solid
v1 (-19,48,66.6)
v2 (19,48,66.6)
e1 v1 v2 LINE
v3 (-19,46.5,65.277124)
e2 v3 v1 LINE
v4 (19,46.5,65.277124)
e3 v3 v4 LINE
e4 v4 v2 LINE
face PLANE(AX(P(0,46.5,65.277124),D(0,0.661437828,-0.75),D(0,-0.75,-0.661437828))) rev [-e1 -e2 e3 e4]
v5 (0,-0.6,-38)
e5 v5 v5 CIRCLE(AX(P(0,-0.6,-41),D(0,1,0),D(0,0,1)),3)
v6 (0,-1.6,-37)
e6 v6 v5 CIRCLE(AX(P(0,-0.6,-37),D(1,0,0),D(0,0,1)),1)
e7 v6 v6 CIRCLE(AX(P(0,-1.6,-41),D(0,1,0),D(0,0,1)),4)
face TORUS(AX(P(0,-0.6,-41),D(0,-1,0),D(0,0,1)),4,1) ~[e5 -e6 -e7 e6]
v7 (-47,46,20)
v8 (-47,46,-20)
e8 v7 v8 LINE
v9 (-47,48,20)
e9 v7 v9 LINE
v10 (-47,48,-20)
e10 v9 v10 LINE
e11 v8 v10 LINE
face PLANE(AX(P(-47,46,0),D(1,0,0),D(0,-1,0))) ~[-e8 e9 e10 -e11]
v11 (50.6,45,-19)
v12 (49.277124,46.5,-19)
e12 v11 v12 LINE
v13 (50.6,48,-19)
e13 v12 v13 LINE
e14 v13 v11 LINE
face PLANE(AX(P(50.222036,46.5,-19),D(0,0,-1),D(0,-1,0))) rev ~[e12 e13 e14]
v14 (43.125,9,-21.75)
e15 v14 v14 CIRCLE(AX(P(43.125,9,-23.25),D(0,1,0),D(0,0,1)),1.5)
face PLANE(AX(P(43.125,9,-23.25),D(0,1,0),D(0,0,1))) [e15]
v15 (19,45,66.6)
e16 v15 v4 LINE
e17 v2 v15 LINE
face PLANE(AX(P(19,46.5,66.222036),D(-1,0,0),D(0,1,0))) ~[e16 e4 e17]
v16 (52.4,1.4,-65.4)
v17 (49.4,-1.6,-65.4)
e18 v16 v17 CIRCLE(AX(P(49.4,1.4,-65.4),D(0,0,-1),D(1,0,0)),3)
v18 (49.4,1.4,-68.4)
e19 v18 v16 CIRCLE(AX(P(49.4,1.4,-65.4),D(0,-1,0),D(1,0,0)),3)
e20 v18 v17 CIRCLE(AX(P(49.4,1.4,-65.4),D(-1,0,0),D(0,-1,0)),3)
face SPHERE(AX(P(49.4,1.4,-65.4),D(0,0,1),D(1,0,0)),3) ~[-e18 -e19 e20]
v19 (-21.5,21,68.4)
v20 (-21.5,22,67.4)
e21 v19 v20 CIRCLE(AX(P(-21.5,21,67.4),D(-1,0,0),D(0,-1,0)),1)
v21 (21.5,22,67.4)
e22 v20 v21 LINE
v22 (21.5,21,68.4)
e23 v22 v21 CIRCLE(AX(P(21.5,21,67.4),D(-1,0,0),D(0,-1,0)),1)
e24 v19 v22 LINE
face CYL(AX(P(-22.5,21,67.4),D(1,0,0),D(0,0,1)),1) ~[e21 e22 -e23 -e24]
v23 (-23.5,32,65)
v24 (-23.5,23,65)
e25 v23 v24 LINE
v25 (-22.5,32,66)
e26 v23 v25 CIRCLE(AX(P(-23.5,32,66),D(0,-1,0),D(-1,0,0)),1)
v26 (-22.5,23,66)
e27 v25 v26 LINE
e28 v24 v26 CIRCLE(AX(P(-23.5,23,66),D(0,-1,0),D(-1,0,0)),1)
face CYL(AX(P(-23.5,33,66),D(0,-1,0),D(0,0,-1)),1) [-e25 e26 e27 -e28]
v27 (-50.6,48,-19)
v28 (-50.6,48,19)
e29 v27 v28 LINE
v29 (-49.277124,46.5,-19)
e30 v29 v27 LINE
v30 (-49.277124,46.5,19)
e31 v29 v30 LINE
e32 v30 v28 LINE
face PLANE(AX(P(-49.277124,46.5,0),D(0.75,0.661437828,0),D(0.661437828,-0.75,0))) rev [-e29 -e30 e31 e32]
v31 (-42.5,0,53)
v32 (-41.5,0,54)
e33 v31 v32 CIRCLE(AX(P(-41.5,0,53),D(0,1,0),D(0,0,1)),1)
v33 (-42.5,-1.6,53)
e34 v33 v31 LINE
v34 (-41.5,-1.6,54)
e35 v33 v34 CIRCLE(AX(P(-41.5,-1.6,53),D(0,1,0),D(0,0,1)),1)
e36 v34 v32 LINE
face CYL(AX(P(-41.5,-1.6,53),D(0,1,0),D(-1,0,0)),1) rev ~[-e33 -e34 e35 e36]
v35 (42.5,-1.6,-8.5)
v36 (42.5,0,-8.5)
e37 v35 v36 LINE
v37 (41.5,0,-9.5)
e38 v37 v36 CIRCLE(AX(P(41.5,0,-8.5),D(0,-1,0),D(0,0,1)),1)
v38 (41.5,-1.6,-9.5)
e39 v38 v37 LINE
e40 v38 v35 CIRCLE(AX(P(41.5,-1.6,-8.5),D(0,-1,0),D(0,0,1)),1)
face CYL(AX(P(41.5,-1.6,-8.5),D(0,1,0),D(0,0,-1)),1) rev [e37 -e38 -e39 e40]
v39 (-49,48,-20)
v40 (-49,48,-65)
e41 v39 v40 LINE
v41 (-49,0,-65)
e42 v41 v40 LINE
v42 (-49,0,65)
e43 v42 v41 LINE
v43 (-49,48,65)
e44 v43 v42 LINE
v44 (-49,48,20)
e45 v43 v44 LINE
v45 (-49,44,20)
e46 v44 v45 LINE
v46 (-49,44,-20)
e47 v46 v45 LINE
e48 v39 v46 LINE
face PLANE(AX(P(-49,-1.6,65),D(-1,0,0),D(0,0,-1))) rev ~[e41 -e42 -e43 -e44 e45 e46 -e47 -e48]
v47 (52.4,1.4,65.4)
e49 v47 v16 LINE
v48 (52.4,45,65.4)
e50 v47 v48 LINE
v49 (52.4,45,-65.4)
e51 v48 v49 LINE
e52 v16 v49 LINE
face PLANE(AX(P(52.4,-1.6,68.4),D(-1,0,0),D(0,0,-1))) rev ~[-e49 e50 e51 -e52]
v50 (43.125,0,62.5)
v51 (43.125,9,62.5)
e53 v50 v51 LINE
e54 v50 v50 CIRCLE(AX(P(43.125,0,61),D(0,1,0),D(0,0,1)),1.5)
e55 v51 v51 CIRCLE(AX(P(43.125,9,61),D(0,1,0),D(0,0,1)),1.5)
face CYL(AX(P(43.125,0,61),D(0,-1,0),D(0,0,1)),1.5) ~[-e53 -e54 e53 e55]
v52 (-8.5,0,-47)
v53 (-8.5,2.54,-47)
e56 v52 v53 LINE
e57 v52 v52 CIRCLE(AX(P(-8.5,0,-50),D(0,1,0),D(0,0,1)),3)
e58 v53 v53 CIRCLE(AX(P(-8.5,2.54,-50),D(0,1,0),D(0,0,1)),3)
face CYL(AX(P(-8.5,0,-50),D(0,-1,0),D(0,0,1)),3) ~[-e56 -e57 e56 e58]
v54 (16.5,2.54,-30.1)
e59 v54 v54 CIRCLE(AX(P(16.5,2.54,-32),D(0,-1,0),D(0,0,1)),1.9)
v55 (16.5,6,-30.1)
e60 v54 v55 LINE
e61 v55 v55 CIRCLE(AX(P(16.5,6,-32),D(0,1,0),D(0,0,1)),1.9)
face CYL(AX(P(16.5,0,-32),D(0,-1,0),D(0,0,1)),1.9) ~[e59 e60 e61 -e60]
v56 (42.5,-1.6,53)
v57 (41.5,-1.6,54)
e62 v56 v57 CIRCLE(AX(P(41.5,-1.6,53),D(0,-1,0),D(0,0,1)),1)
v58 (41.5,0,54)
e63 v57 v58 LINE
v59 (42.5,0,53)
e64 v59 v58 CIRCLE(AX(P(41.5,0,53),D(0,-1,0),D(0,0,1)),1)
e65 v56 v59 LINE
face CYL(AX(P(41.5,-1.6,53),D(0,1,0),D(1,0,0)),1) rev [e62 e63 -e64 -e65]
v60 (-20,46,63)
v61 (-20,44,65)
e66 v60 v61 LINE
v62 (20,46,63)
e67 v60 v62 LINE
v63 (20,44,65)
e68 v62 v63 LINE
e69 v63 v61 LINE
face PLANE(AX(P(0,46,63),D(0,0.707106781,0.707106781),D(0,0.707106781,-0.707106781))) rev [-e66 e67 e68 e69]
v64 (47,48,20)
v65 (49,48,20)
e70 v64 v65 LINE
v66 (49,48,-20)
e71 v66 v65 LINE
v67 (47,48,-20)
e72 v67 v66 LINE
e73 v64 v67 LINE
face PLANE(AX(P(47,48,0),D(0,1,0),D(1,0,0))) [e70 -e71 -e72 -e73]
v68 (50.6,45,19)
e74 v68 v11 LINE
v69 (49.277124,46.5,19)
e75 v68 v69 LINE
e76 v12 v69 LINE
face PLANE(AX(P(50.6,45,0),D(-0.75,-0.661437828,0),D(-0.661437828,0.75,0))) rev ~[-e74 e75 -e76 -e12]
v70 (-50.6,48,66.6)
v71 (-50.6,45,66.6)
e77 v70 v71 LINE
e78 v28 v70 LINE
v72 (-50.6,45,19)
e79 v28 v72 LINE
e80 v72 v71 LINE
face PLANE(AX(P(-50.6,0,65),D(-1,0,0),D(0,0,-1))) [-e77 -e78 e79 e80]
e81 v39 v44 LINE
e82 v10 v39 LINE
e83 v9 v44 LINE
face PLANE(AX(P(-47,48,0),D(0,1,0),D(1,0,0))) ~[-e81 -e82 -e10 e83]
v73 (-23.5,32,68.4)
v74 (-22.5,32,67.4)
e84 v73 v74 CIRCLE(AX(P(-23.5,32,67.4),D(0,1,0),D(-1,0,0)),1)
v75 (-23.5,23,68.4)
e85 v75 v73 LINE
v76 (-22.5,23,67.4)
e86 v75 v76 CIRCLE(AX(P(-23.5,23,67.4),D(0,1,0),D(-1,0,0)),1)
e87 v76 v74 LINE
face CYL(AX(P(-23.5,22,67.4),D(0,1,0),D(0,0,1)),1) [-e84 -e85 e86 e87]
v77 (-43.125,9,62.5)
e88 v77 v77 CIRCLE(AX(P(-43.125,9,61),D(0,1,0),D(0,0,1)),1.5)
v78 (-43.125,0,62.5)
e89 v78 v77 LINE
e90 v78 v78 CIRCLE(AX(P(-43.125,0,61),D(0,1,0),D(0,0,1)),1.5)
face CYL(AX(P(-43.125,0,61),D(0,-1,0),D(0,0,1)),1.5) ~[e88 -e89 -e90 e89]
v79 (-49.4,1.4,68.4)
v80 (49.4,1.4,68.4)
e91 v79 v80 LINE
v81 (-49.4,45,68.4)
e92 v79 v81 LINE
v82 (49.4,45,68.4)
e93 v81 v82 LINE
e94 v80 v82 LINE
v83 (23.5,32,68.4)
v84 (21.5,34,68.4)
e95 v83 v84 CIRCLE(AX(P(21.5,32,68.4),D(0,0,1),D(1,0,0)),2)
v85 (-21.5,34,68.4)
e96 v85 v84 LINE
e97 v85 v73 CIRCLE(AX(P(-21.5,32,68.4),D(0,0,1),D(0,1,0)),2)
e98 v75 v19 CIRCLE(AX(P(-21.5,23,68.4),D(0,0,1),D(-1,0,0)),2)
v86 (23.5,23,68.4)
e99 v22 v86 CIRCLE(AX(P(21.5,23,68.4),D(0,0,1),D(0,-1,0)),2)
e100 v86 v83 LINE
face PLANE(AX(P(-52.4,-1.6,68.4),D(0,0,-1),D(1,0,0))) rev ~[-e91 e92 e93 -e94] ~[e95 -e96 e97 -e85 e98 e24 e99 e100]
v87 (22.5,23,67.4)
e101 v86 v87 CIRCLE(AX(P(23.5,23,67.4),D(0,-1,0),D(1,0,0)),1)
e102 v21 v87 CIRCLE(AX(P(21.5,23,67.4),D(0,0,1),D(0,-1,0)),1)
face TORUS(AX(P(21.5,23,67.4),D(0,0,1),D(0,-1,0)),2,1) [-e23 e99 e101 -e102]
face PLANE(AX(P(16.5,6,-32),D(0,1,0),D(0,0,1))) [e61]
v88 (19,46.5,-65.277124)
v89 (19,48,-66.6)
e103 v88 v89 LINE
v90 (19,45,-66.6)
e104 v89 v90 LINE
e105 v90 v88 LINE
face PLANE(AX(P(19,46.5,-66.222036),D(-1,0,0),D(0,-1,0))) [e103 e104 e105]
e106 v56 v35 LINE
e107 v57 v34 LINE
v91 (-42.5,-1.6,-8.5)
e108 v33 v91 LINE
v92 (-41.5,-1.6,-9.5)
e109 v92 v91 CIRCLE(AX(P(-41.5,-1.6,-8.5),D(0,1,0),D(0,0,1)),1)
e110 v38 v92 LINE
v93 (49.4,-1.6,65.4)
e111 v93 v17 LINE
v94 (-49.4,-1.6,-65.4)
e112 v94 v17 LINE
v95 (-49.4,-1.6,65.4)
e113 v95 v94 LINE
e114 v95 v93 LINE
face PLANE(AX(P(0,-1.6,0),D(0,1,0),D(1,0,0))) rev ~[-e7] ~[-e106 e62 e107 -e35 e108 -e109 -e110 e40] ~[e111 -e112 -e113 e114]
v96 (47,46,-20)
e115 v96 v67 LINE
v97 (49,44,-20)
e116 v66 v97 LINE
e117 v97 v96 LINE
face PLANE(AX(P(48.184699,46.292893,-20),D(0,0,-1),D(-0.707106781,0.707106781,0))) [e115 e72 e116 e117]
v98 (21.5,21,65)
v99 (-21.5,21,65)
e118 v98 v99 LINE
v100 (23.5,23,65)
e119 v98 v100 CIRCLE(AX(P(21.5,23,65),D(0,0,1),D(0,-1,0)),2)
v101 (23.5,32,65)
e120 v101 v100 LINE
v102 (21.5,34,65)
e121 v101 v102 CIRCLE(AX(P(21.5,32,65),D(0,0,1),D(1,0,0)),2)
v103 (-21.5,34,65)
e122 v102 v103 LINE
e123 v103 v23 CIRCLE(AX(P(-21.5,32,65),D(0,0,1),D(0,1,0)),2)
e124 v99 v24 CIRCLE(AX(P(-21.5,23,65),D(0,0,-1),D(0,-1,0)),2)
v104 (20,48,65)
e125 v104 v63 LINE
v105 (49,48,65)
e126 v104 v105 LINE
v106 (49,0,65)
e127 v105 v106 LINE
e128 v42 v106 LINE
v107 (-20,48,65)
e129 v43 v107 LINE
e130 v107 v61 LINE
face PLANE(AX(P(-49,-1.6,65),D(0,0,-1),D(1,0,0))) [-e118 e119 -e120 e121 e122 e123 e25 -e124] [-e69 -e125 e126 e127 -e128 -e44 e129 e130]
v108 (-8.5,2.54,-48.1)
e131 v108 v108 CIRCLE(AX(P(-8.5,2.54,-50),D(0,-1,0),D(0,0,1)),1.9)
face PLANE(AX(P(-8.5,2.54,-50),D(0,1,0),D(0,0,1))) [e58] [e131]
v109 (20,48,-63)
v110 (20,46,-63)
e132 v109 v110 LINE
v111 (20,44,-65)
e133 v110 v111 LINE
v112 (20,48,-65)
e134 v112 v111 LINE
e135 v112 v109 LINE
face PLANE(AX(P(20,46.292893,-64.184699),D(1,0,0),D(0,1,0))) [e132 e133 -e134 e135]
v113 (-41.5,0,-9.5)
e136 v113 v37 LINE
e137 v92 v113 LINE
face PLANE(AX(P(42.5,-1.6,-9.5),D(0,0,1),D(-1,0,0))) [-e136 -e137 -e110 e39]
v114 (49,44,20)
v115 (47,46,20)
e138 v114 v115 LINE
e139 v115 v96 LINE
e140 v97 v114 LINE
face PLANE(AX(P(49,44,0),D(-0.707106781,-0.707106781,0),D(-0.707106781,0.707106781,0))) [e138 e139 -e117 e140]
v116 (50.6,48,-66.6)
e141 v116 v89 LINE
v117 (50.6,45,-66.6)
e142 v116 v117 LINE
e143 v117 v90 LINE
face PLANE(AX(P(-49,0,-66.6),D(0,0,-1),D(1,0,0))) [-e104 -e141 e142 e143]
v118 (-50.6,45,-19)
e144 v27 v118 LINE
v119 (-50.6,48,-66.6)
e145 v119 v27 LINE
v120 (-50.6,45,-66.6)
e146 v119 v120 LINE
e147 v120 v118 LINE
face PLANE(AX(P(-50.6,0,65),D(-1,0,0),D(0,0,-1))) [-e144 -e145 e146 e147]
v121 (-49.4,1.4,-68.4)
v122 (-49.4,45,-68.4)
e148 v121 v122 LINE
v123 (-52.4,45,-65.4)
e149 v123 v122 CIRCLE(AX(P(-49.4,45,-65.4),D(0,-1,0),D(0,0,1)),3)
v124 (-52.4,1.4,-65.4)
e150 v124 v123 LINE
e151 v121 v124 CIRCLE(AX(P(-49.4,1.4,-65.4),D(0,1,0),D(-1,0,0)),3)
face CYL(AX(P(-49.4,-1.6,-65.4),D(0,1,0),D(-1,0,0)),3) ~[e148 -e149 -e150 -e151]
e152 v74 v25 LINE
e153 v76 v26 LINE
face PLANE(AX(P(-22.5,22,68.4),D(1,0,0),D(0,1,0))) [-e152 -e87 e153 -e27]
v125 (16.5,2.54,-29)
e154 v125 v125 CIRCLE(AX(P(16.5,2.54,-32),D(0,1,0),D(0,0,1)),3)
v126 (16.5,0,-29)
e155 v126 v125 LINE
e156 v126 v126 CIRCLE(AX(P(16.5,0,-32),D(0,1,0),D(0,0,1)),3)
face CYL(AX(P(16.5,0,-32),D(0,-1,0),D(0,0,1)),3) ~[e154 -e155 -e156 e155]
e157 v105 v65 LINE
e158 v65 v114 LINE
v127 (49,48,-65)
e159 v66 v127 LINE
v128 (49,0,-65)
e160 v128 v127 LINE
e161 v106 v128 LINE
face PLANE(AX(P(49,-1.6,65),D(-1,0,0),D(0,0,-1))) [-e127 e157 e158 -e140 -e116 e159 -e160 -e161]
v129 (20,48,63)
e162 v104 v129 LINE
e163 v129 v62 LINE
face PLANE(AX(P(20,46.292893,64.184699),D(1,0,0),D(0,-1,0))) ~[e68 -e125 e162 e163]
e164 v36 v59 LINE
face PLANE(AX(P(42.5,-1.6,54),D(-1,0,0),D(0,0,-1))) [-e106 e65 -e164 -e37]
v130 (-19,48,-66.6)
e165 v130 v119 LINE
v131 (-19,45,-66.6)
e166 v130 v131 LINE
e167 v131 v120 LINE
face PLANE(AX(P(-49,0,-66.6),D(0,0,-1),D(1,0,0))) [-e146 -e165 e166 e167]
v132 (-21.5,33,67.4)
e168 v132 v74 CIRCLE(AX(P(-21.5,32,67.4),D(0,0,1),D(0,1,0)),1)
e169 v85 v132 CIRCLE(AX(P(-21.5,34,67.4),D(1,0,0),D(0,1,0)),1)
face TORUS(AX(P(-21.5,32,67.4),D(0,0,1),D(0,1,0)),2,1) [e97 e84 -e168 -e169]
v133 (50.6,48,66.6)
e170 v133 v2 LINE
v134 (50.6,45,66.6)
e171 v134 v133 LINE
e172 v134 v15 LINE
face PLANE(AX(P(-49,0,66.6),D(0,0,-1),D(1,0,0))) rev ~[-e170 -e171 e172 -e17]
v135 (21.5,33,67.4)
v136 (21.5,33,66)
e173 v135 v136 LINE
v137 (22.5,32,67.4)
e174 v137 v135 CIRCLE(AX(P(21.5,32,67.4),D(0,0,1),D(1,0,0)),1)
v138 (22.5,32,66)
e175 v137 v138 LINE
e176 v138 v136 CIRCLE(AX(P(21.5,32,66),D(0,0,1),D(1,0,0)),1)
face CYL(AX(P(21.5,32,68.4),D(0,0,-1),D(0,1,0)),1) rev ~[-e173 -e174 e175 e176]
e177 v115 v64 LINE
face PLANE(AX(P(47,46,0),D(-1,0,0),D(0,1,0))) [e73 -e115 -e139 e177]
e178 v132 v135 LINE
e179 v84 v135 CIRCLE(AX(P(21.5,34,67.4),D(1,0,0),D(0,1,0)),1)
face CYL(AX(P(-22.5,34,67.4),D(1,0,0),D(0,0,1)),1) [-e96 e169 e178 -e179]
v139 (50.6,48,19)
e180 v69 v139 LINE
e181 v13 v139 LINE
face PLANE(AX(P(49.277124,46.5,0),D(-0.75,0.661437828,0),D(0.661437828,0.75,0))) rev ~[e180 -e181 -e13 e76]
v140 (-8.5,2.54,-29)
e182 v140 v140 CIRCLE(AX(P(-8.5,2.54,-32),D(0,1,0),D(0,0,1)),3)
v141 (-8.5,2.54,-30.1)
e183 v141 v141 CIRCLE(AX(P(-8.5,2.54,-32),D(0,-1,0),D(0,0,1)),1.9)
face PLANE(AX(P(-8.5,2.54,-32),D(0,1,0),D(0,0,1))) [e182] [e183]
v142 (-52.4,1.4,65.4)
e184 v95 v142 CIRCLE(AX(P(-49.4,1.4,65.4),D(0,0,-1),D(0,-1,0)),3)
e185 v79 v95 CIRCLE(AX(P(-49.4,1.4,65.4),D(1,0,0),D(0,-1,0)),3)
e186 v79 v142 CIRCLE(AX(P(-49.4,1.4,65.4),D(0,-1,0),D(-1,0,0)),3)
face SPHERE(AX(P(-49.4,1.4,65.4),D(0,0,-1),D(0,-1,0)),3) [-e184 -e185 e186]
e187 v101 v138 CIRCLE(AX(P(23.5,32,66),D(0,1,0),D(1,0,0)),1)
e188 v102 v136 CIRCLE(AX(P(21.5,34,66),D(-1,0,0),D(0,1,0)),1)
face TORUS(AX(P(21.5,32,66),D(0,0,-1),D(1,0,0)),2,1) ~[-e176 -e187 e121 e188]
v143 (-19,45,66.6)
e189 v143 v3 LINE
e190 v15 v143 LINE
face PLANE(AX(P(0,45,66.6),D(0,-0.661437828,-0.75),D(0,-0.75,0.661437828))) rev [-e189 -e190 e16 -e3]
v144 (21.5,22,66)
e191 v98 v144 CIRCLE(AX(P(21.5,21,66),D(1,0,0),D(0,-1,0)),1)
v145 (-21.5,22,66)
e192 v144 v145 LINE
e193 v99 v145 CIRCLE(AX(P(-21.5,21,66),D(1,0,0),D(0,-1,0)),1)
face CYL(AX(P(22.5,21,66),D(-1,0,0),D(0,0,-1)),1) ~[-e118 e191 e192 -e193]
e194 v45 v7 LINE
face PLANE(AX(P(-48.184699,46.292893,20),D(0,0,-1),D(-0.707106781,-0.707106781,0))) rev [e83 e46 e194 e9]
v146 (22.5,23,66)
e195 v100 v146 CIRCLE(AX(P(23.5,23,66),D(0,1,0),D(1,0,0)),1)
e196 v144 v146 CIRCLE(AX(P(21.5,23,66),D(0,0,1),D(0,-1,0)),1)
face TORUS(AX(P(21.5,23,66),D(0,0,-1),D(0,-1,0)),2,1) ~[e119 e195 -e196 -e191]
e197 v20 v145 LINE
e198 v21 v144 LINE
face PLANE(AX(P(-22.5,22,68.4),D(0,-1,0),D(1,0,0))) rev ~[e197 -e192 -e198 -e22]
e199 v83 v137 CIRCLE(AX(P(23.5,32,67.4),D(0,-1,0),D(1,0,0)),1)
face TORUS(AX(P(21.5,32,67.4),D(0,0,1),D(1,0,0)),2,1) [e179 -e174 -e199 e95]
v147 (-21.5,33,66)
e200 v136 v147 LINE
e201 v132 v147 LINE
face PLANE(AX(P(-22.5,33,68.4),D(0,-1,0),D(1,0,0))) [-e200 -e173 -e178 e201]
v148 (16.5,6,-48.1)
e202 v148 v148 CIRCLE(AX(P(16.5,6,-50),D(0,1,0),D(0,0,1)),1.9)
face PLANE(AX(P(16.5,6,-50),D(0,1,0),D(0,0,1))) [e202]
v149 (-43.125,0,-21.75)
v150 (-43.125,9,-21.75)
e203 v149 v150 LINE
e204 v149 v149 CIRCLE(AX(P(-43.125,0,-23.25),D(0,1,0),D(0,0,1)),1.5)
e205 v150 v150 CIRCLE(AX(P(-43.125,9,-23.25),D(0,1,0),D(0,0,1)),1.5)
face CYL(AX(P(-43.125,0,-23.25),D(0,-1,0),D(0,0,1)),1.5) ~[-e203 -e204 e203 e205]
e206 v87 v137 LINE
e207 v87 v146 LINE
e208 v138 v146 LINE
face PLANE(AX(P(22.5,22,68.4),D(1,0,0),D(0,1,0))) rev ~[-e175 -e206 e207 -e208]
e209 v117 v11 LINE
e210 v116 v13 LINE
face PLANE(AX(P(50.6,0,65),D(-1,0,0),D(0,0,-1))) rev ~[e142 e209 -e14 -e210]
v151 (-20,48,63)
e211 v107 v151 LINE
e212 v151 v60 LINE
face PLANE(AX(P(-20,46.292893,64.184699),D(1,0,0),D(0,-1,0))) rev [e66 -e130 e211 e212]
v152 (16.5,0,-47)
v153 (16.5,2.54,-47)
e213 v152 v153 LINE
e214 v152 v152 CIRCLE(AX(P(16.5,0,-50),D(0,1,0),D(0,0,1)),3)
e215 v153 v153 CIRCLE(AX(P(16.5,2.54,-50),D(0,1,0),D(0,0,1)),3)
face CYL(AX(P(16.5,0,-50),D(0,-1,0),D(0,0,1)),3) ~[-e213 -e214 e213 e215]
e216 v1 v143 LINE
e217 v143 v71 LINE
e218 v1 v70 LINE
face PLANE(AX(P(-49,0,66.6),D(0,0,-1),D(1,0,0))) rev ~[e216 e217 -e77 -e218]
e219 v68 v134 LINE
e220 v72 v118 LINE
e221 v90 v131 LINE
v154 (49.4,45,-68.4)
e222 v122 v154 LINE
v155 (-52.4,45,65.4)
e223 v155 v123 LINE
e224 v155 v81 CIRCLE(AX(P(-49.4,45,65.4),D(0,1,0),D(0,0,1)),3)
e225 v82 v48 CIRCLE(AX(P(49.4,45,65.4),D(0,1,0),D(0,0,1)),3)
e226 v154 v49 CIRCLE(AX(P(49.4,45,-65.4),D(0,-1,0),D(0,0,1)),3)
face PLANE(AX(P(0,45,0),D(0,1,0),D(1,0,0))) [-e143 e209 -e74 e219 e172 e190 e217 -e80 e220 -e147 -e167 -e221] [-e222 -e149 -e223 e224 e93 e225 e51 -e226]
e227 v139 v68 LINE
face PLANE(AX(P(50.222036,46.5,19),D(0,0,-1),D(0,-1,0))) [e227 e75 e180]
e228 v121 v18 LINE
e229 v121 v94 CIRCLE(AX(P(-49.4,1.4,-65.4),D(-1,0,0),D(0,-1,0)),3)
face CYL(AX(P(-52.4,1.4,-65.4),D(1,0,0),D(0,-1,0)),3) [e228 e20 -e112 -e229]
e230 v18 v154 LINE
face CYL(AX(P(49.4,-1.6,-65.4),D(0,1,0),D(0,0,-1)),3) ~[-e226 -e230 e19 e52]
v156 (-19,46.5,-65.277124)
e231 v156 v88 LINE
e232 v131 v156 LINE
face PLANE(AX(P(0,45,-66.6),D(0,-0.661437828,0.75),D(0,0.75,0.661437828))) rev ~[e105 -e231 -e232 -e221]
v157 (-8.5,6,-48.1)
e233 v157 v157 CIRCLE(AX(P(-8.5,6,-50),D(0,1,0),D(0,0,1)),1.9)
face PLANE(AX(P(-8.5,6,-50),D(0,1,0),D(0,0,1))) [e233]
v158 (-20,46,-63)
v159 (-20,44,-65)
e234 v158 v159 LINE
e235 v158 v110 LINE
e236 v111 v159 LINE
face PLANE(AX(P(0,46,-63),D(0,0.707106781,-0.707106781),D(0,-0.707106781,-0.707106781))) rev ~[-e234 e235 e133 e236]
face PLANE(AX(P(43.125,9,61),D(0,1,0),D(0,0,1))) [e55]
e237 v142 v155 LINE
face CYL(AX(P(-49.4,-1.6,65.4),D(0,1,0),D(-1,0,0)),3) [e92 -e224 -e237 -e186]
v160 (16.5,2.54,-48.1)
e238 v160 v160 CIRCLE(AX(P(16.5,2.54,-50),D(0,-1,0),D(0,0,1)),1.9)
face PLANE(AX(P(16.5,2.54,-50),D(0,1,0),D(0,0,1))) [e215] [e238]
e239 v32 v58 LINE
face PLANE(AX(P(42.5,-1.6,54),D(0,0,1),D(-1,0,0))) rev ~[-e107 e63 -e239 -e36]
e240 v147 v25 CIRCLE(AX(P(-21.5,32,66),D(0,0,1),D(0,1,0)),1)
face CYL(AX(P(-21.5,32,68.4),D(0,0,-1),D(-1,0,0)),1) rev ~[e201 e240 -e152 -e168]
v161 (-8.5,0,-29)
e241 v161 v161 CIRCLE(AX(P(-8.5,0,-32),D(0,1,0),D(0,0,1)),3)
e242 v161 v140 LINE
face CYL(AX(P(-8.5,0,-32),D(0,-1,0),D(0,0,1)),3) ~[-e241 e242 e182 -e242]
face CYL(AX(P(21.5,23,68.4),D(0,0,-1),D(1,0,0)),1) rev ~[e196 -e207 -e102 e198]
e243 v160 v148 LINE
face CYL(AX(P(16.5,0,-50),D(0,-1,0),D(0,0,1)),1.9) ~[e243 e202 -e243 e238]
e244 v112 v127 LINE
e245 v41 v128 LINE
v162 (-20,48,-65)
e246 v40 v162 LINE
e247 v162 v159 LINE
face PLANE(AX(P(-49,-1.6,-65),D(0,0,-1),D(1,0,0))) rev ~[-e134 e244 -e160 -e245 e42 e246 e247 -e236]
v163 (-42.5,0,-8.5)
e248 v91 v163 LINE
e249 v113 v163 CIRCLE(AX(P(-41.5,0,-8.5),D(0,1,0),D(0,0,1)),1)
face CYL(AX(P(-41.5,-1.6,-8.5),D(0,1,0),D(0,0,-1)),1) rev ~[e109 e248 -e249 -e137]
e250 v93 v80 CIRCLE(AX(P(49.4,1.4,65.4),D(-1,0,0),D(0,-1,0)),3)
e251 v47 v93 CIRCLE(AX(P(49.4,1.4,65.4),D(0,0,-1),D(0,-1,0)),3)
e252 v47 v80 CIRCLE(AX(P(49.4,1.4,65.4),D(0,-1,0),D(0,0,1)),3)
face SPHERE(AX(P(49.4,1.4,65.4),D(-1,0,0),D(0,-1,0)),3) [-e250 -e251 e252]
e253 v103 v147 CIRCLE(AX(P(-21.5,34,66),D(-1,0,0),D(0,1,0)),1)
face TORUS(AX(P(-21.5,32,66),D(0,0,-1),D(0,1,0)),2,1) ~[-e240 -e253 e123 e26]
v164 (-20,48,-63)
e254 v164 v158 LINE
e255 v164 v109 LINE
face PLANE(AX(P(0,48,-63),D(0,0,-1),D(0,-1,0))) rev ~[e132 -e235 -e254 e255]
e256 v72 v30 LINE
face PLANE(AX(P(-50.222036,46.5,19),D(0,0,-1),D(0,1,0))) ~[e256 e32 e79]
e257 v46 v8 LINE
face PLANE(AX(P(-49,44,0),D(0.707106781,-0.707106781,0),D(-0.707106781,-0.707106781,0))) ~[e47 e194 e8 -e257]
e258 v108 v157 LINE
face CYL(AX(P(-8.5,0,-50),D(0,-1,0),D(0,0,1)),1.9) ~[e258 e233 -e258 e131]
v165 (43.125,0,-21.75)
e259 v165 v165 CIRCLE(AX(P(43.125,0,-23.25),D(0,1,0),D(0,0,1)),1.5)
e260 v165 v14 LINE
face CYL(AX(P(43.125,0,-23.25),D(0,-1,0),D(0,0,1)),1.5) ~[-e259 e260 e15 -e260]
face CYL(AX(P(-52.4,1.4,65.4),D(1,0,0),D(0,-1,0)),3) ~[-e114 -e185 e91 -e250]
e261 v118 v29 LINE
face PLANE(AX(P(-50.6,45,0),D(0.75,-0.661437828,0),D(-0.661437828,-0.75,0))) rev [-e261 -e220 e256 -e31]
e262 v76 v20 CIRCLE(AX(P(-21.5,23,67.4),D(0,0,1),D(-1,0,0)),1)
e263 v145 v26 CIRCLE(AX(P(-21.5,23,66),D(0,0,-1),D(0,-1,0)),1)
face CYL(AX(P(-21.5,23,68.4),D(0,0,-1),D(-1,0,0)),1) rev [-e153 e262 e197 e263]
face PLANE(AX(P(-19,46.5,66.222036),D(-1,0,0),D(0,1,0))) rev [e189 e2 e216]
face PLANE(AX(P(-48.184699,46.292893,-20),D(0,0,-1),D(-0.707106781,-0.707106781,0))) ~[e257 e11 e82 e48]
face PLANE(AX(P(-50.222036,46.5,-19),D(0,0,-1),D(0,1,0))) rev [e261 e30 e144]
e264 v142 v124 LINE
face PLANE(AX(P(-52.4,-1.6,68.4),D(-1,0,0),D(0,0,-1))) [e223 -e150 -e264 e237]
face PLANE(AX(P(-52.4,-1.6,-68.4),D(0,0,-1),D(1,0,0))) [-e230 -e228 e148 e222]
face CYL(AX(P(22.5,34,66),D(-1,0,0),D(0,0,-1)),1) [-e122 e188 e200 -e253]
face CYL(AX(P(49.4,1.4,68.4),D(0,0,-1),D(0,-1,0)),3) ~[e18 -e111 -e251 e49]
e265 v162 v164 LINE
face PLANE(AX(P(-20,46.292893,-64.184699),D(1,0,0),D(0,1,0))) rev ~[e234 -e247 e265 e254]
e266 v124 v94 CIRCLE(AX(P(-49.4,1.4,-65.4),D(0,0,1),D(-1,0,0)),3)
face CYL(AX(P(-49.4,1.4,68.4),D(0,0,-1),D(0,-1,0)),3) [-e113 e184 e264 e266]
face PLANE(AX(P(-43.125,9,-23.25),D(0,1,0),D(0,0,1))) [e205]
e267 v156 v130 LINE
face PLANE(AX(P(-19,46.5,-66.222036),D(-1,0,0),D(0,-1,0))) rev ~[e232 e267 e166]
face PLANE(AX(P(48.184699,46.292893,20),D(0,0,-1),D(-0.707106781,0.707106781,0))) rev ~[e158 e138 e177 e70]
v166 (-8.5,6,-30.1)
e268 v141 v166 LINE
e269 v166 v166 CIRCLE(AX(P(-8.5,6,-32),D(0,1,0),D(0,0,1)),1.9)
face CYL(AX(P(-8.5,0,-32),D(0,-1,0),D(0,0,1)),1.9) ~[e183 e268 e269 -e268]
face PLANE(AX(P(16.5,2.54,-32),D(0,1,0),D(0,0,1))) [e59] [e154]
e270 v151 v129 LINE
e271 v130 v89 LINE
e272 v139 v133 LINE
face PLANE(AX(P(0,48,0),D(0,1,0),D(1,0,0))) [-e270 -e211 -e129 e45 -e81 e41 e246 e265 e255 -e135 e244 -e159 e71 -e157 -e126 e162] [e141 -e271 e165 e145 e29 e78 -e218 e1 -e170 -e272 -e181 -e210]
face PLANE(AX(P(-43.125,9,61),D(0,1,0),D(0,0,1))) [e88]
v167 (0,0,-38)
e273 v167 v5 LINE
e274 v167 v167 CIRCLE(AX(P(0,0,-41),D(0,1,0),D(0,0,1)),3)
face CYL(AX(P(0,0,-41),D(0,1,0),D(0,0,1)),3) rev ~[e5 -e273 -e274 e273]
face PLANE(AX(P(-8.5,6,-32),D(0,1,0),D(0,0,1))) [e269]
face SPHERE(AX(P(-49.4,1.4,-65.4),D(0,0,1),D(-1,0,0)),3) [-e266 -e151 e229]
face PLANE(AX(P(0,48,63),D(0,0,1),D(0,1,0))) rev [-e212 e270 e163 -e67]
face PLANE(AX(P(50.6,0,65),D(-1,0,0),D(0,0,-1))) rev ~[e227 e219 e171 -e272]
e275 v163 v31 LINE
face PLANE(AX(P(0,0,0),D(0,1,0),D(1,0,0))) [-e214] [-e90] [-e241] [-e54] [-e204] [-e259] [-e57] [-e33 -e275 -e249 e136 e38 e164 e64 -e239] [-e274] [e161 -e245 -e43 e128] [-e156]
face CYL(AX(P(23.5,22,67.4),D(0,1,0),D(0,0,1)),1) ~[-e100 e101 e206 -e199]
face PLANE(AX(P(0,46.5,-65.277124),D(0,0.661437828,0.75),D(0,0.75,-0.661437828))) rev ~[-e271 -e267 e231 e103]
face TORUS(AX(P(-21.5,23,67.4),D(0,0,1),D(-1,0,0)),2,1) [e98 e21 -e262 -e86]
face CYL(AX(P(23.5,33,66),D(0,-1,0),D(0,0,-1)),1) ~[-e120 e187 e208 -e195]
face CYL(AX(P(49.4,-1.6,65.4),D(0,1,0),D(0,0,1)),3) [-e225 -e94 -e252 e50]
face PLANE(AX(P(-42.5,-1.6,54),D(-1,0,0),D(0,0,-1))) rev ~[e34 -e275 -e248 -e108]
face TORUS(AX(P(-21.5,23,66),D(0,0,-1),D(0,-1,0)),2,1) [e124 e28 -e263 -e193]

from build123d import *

# Parameters (mm, degrees)
ESQUISSE6_W              = 98
ESQUISSE6_H              = 130
BOSS_EXTRU_4_DEPTH       = 48
COQUE7_T                 = 1.6
EXTRU_MINCE1_DEPTH       = 45
EXTRU_MINCE1_DEPTH_BACK  = 1.6
ESQUISSE7_W              = 104.8
ESQUISSE7_H              = 136.8
ESQUISSE7_W_2            = 98
ESQUISSE7_H_2            = 130
ESQUISSE13_W             = 85
ESQUISSE13_H             = 63.5
ENL_V_MAT_EXTRU_10_DEPTH = 8
ESQUISSE16_R             = 1.5
BOSS_EXTRU_9_DEPTH       = 9
ESQUISSE17_R             = 3
BOSS_EXTRU_10_DEPTH      = 2.54
ESQUISSE17_4_R           = 3
ENL_V_MAT_EXTRU_11_DEPTH = 6
CONG_5_R                 = 3
CONG_6_R                 = 1
ESQUISSE22_W             = 45
ESQUISSE22_H             = 11
ENL_V_MAT_EXTRU_12_DEPTH = 6
CONG_7_R                 = 1
BOSS_EXTRU_15_DEPTH      = 20
BOSS_EXTRU_16_DEPTH      = 20
ENL_V_MAT_EXTRU_14_DEPTH = 19
ENL_V_MAT_EXTRU_15_DEPTH = 19
CONG_8_R                 = 1
ESQUISSE17_7_R           = 1.9
BOSS_EXTRU_18_DEPTH      = 6


with BuildPart() as part:
    # Esquisse6 → Boss.-Extru.4 (new body)
    with BuildSketch(Plane(origin=(0, 0, 0), x_dir=(1, 0, 0), z_dir=(0, 1, 0))):
        Rectangle(ESQUISSE6_W, ESQUISSE6_H)
    extrude(amount=BOSS_EXTRU_4_DEPTH)

    # Coque7
    coque7_openings = [part.faces().sort_by_distance(p)[0] for p in [
        (0, 48, 0),
    ]]
    offset(amount=COQUE7_T, openings=coque7_openings, kind=Kind.INTERSECTION)

    # Esquisse13 → Enlèv. mat.-Extru.10 (cut)
    with BuildSketch(Plane(origin=(0, -1.6, 0), x_dir=(-1, 0, 0), z_dir=(0, -1, 0))):
        with Locations((0, -22.25)):
            Rectangle(ESQUISSE13_W, ESQUISSE13_H)
    extrude(amount=-ENL_V_MAT_EXTRU_10_DEPTH, mode=Mode.SUBTRACT)


with BuildPart() as body_2:
    # Esquisse7 → Extru.-Mince1 (new, two sides: drawn at the far end of the back side and taken through both)
    with BuildSketch(Plane(origin=(0, 0, 0), x_dir=(1, 0, 0), z_dir=(0, 1, 0)).offset(-EXTRU_MINCE1_DEPTH_BACK)):
        Rectangle(ESQUISSE7_W, ESQUISSE7_H)
        Rectangle(ESQUISSE7_W_2, ESQUISSE7_H_2, mode=Mode.SUBTRACT)
    extrude(amount=EXTRU_MINCE1_DEPTH + EXTRU_MINCE1_DEPTH_BACK)


    add(part.part)  # Boss.-Extru.9 merges part
    # Esquisse16 → Boss.-Extru.9 (add)
    with BuildSketch(Plane(origin=(0, 0, 0), x_dir=(1, 0, 0), z_dir=(0, 1, 0))):
        with Locations((43.125, 23.25)):
            Circle(ESQUISSE16_R)
        with Locations((43.125, -61)):
            Circle(ESQUISSE16_R)
        with Locations((-43.125, -61)):
            Circle(ESQUISSE16_R)
        with Locations((-43.125, 23.25)):
            Circle(ESQUISSE16_R)
    extrude(amount=BOSS_EXTRU_9_DEPTH)

    # Esquisse17 → Boss.-Extru.10 (add)
    with BuildSketch(Plane(origin=(0, 0, 0), x_dir=(1, 0, 0), z_dir=(0, 1, 0))):
        with Locations((16.5, 32)):
            Circle(ESQUISSE17_R)
        with Locations((16.5, 50)):
            Circle(ESQUISSE17_R)
        with Locations((-8.5, 50)):
            Circle(ESQUISSE17_R)
        with Locations((-8.5, 32)):
            Circle(ESQUISSE17_R)
    extrude(amount=BOSS_EXTRU_10_DEPTH)

    # Esquisse17<4> → Enlèv. mat.-Extru.11 (cut)
    with BuildSketch(Plane(origin=(0, 0, 0), x_dir=(1, 0, 0), z_dir=(0, 1, 0))):
        with Locations((0, 41)):
            Circle(ESQUISSE17_4_R)
    extrude(amount=-ENL_V_MAT_EXTRU_11_DEPTH, mode=Mode.SUBTRACT)

    # Congé5
    cong_5_edges = [body_2.edges().sort_by_distance(p)[0] for p in [
        (0, -1.6, 68.4),
        (52.4, 21.7, -68.4),
        (52.4, -1.6, 0),
        (0, -1.6, -68.4),
        (-52.4, -1.6, 0),
        (-52.4, 21.7, -68.4),
        (-52.4, 21.7, 68.4),
        (52.4, 21.7, 68.4),
    ]]
    fillet(cong_5_edges, radius=CONG_5_R)

    # Congé6
    cong_6_edges = [body_2.edges().sort_by_distance(p)[0] for p in [
        (-42.5, -0.8, 54),
        (42.5, -0.8, 54),
        (42.5, -0.8, -9.5),
        (-42.5, -0.8, -9.5),
    ]]
    fillet(cong_6_edges, radius=CONG_6_R)

    # Esquisse22 → Enlèv. mat.-Extru.12 (cut)
    with BuildSketch(Plane.XY.offset(68.4)):
        with Locations((0, 27.5)):
            Rectangle(ESQUISSE22_W, ESQUISSE22_H)
    extrude(amount=-ENL_V_MAT_EXTRU_12_DEPTH, mode=Mode.SUBTRACT)

    # Congé7
    cong_7_edges = [body_2.edges().sort_by_distance(p)[0] for p in [
        (-22.5, 27.5, 65),
        (22.5, 27.5, 65),
        (22.5, 27.5, 68.4),
        (-22.5, 27.5, 68.4),
        (-22.5, 33, 66.7),
        (0, 33, 68.4),
        (22.5, 33, 66.7),
        (0, 33, 65),
        (0, 22, 65),
        (22.5, 22, 66.7),
        (0, 22, 68.4),
        (-22.5, 22, 66.7),
    ]]
    fillet(cong_7_edges, radius=CONG_7_R)

    # Esquisse3D2 → Boss.-Extru.15 (add, symmetric)
    with BuildSketch(Plane(origin=(49, 46, 0), x_dir=(-0.7071067811865488, 0.7071067811865464, 0), z_dir=(0, 0, -1))):
        Polygon((0, 0), (-1.414213562, -1.414213562), (1.414213562, -1.414213562), (2.828427125, 0), (1.414213562, 1.414213562), align=None)
    boss_extru_15 = extrude(amount=BOSS_EXTRU_15_DEPTH, both=True)

    # Symétrie1: Boss.-Extru.15 across plane
    add(boss_extru_15.mirror(Plane(origin=(0, 0, 0), x_dir=(0, 0, 1), z_dir=(1, 0, 0))))

    # Esquisse3D4 → Boss.-Extru.16 (add, symmetric)
    with BuildSketch(Plane(origin=(0, 48, -65), x_dir=(0, -1, 0), z_dir=(-1, 0, 0))):
        Polygon((0, 0), (0, 2), (2, 2), (4, 0), (2, 0), align=None)
    boss_extru_16 = extrude(amount=BOSS_EXTRU_16_DEPTH, both=True)

    # Esquisse3D6 → Enlèv. mat.-Extru.14 (cut, symmetric)
    with BuildSketch(Plane(origin=(50.6, 48, 0), x_dir=(0, -1, 0), z_dir=(0, 0, -1))):
        Polygon((0, 0), (3, 0), (1.5, 1.322875656), align=None)
    enl_v_mat_extru_14 = extrude(amount=ENL_V_MAT_EXTRU_14_DEPTH, both=True, mode=Mode.SUBTRACT)

    # Symétrie2: Enlèv. mat.-Extru.14 across plane
    add(enl_v_mat_extru_14.mirror(Plane(origin=(0, 0, 0), x_dir=(0, 0, 1), z_dir=(1, 0, 0))), mode=Mode.SUBTRACT)

    # Symétrie3: Boss.-Extru.16 across plane
    add(boss_extru_16.mirror(Plane.XY))

    # Esquisse3D7 → Enlèv. mat.-Extru.15 (cut, symmetric)
    with BuildSketch(Plane(origin=(0, 48, -66.6), x_dir=(0, -1, 0), z_dir=(-1, 0, 0))):
        Polygon((0, 0), (3, 0), (1.5, 1.322875656), align=None)
    enl_v_mat_extru_15 = extrude(amount=ENL_V_MAT_EXTRU_15_DEPTH, both=True, mode=Mode.SUBTRACT)

    # Symétrie5: Enlèv. mat.-Extru.15 across plane
    add(enl_v_mat_extru_15.mirror(Plane.XY), mode=Mode.SUBTRACT)

    # Congé8
    cong_8_edges = [body_2.edges().sort_by_distance(p)[0] for p in [
        (-3, -1.6, -41),
    ]]
    fillet(cong_8_edges, radius=CONG_8_R)

    # Esquisse17<7> → Boss.-Extru.18 (add)
    with BuildSketch(Plane(origin=(0, 0, 0), x_dir=(1, 0, 0), z_dir=(0, 1, 0))):
        with Locations((16.5, 32)):
            Circle(ESQUISSE17_7_R)
        with Locations((16.5, 50)):
            Circle(ESQUISSE17_7_R)
        with Locations((-8.5, 32)):
            Circle(ESQUISSE17_7_R)
        with Locations((-8.5, 50)):
            Circle(ESQUISSE17_7_R)
    extrude(amount=BOSS_EXTRU_18_DEPTH)


solid = body_2.part
